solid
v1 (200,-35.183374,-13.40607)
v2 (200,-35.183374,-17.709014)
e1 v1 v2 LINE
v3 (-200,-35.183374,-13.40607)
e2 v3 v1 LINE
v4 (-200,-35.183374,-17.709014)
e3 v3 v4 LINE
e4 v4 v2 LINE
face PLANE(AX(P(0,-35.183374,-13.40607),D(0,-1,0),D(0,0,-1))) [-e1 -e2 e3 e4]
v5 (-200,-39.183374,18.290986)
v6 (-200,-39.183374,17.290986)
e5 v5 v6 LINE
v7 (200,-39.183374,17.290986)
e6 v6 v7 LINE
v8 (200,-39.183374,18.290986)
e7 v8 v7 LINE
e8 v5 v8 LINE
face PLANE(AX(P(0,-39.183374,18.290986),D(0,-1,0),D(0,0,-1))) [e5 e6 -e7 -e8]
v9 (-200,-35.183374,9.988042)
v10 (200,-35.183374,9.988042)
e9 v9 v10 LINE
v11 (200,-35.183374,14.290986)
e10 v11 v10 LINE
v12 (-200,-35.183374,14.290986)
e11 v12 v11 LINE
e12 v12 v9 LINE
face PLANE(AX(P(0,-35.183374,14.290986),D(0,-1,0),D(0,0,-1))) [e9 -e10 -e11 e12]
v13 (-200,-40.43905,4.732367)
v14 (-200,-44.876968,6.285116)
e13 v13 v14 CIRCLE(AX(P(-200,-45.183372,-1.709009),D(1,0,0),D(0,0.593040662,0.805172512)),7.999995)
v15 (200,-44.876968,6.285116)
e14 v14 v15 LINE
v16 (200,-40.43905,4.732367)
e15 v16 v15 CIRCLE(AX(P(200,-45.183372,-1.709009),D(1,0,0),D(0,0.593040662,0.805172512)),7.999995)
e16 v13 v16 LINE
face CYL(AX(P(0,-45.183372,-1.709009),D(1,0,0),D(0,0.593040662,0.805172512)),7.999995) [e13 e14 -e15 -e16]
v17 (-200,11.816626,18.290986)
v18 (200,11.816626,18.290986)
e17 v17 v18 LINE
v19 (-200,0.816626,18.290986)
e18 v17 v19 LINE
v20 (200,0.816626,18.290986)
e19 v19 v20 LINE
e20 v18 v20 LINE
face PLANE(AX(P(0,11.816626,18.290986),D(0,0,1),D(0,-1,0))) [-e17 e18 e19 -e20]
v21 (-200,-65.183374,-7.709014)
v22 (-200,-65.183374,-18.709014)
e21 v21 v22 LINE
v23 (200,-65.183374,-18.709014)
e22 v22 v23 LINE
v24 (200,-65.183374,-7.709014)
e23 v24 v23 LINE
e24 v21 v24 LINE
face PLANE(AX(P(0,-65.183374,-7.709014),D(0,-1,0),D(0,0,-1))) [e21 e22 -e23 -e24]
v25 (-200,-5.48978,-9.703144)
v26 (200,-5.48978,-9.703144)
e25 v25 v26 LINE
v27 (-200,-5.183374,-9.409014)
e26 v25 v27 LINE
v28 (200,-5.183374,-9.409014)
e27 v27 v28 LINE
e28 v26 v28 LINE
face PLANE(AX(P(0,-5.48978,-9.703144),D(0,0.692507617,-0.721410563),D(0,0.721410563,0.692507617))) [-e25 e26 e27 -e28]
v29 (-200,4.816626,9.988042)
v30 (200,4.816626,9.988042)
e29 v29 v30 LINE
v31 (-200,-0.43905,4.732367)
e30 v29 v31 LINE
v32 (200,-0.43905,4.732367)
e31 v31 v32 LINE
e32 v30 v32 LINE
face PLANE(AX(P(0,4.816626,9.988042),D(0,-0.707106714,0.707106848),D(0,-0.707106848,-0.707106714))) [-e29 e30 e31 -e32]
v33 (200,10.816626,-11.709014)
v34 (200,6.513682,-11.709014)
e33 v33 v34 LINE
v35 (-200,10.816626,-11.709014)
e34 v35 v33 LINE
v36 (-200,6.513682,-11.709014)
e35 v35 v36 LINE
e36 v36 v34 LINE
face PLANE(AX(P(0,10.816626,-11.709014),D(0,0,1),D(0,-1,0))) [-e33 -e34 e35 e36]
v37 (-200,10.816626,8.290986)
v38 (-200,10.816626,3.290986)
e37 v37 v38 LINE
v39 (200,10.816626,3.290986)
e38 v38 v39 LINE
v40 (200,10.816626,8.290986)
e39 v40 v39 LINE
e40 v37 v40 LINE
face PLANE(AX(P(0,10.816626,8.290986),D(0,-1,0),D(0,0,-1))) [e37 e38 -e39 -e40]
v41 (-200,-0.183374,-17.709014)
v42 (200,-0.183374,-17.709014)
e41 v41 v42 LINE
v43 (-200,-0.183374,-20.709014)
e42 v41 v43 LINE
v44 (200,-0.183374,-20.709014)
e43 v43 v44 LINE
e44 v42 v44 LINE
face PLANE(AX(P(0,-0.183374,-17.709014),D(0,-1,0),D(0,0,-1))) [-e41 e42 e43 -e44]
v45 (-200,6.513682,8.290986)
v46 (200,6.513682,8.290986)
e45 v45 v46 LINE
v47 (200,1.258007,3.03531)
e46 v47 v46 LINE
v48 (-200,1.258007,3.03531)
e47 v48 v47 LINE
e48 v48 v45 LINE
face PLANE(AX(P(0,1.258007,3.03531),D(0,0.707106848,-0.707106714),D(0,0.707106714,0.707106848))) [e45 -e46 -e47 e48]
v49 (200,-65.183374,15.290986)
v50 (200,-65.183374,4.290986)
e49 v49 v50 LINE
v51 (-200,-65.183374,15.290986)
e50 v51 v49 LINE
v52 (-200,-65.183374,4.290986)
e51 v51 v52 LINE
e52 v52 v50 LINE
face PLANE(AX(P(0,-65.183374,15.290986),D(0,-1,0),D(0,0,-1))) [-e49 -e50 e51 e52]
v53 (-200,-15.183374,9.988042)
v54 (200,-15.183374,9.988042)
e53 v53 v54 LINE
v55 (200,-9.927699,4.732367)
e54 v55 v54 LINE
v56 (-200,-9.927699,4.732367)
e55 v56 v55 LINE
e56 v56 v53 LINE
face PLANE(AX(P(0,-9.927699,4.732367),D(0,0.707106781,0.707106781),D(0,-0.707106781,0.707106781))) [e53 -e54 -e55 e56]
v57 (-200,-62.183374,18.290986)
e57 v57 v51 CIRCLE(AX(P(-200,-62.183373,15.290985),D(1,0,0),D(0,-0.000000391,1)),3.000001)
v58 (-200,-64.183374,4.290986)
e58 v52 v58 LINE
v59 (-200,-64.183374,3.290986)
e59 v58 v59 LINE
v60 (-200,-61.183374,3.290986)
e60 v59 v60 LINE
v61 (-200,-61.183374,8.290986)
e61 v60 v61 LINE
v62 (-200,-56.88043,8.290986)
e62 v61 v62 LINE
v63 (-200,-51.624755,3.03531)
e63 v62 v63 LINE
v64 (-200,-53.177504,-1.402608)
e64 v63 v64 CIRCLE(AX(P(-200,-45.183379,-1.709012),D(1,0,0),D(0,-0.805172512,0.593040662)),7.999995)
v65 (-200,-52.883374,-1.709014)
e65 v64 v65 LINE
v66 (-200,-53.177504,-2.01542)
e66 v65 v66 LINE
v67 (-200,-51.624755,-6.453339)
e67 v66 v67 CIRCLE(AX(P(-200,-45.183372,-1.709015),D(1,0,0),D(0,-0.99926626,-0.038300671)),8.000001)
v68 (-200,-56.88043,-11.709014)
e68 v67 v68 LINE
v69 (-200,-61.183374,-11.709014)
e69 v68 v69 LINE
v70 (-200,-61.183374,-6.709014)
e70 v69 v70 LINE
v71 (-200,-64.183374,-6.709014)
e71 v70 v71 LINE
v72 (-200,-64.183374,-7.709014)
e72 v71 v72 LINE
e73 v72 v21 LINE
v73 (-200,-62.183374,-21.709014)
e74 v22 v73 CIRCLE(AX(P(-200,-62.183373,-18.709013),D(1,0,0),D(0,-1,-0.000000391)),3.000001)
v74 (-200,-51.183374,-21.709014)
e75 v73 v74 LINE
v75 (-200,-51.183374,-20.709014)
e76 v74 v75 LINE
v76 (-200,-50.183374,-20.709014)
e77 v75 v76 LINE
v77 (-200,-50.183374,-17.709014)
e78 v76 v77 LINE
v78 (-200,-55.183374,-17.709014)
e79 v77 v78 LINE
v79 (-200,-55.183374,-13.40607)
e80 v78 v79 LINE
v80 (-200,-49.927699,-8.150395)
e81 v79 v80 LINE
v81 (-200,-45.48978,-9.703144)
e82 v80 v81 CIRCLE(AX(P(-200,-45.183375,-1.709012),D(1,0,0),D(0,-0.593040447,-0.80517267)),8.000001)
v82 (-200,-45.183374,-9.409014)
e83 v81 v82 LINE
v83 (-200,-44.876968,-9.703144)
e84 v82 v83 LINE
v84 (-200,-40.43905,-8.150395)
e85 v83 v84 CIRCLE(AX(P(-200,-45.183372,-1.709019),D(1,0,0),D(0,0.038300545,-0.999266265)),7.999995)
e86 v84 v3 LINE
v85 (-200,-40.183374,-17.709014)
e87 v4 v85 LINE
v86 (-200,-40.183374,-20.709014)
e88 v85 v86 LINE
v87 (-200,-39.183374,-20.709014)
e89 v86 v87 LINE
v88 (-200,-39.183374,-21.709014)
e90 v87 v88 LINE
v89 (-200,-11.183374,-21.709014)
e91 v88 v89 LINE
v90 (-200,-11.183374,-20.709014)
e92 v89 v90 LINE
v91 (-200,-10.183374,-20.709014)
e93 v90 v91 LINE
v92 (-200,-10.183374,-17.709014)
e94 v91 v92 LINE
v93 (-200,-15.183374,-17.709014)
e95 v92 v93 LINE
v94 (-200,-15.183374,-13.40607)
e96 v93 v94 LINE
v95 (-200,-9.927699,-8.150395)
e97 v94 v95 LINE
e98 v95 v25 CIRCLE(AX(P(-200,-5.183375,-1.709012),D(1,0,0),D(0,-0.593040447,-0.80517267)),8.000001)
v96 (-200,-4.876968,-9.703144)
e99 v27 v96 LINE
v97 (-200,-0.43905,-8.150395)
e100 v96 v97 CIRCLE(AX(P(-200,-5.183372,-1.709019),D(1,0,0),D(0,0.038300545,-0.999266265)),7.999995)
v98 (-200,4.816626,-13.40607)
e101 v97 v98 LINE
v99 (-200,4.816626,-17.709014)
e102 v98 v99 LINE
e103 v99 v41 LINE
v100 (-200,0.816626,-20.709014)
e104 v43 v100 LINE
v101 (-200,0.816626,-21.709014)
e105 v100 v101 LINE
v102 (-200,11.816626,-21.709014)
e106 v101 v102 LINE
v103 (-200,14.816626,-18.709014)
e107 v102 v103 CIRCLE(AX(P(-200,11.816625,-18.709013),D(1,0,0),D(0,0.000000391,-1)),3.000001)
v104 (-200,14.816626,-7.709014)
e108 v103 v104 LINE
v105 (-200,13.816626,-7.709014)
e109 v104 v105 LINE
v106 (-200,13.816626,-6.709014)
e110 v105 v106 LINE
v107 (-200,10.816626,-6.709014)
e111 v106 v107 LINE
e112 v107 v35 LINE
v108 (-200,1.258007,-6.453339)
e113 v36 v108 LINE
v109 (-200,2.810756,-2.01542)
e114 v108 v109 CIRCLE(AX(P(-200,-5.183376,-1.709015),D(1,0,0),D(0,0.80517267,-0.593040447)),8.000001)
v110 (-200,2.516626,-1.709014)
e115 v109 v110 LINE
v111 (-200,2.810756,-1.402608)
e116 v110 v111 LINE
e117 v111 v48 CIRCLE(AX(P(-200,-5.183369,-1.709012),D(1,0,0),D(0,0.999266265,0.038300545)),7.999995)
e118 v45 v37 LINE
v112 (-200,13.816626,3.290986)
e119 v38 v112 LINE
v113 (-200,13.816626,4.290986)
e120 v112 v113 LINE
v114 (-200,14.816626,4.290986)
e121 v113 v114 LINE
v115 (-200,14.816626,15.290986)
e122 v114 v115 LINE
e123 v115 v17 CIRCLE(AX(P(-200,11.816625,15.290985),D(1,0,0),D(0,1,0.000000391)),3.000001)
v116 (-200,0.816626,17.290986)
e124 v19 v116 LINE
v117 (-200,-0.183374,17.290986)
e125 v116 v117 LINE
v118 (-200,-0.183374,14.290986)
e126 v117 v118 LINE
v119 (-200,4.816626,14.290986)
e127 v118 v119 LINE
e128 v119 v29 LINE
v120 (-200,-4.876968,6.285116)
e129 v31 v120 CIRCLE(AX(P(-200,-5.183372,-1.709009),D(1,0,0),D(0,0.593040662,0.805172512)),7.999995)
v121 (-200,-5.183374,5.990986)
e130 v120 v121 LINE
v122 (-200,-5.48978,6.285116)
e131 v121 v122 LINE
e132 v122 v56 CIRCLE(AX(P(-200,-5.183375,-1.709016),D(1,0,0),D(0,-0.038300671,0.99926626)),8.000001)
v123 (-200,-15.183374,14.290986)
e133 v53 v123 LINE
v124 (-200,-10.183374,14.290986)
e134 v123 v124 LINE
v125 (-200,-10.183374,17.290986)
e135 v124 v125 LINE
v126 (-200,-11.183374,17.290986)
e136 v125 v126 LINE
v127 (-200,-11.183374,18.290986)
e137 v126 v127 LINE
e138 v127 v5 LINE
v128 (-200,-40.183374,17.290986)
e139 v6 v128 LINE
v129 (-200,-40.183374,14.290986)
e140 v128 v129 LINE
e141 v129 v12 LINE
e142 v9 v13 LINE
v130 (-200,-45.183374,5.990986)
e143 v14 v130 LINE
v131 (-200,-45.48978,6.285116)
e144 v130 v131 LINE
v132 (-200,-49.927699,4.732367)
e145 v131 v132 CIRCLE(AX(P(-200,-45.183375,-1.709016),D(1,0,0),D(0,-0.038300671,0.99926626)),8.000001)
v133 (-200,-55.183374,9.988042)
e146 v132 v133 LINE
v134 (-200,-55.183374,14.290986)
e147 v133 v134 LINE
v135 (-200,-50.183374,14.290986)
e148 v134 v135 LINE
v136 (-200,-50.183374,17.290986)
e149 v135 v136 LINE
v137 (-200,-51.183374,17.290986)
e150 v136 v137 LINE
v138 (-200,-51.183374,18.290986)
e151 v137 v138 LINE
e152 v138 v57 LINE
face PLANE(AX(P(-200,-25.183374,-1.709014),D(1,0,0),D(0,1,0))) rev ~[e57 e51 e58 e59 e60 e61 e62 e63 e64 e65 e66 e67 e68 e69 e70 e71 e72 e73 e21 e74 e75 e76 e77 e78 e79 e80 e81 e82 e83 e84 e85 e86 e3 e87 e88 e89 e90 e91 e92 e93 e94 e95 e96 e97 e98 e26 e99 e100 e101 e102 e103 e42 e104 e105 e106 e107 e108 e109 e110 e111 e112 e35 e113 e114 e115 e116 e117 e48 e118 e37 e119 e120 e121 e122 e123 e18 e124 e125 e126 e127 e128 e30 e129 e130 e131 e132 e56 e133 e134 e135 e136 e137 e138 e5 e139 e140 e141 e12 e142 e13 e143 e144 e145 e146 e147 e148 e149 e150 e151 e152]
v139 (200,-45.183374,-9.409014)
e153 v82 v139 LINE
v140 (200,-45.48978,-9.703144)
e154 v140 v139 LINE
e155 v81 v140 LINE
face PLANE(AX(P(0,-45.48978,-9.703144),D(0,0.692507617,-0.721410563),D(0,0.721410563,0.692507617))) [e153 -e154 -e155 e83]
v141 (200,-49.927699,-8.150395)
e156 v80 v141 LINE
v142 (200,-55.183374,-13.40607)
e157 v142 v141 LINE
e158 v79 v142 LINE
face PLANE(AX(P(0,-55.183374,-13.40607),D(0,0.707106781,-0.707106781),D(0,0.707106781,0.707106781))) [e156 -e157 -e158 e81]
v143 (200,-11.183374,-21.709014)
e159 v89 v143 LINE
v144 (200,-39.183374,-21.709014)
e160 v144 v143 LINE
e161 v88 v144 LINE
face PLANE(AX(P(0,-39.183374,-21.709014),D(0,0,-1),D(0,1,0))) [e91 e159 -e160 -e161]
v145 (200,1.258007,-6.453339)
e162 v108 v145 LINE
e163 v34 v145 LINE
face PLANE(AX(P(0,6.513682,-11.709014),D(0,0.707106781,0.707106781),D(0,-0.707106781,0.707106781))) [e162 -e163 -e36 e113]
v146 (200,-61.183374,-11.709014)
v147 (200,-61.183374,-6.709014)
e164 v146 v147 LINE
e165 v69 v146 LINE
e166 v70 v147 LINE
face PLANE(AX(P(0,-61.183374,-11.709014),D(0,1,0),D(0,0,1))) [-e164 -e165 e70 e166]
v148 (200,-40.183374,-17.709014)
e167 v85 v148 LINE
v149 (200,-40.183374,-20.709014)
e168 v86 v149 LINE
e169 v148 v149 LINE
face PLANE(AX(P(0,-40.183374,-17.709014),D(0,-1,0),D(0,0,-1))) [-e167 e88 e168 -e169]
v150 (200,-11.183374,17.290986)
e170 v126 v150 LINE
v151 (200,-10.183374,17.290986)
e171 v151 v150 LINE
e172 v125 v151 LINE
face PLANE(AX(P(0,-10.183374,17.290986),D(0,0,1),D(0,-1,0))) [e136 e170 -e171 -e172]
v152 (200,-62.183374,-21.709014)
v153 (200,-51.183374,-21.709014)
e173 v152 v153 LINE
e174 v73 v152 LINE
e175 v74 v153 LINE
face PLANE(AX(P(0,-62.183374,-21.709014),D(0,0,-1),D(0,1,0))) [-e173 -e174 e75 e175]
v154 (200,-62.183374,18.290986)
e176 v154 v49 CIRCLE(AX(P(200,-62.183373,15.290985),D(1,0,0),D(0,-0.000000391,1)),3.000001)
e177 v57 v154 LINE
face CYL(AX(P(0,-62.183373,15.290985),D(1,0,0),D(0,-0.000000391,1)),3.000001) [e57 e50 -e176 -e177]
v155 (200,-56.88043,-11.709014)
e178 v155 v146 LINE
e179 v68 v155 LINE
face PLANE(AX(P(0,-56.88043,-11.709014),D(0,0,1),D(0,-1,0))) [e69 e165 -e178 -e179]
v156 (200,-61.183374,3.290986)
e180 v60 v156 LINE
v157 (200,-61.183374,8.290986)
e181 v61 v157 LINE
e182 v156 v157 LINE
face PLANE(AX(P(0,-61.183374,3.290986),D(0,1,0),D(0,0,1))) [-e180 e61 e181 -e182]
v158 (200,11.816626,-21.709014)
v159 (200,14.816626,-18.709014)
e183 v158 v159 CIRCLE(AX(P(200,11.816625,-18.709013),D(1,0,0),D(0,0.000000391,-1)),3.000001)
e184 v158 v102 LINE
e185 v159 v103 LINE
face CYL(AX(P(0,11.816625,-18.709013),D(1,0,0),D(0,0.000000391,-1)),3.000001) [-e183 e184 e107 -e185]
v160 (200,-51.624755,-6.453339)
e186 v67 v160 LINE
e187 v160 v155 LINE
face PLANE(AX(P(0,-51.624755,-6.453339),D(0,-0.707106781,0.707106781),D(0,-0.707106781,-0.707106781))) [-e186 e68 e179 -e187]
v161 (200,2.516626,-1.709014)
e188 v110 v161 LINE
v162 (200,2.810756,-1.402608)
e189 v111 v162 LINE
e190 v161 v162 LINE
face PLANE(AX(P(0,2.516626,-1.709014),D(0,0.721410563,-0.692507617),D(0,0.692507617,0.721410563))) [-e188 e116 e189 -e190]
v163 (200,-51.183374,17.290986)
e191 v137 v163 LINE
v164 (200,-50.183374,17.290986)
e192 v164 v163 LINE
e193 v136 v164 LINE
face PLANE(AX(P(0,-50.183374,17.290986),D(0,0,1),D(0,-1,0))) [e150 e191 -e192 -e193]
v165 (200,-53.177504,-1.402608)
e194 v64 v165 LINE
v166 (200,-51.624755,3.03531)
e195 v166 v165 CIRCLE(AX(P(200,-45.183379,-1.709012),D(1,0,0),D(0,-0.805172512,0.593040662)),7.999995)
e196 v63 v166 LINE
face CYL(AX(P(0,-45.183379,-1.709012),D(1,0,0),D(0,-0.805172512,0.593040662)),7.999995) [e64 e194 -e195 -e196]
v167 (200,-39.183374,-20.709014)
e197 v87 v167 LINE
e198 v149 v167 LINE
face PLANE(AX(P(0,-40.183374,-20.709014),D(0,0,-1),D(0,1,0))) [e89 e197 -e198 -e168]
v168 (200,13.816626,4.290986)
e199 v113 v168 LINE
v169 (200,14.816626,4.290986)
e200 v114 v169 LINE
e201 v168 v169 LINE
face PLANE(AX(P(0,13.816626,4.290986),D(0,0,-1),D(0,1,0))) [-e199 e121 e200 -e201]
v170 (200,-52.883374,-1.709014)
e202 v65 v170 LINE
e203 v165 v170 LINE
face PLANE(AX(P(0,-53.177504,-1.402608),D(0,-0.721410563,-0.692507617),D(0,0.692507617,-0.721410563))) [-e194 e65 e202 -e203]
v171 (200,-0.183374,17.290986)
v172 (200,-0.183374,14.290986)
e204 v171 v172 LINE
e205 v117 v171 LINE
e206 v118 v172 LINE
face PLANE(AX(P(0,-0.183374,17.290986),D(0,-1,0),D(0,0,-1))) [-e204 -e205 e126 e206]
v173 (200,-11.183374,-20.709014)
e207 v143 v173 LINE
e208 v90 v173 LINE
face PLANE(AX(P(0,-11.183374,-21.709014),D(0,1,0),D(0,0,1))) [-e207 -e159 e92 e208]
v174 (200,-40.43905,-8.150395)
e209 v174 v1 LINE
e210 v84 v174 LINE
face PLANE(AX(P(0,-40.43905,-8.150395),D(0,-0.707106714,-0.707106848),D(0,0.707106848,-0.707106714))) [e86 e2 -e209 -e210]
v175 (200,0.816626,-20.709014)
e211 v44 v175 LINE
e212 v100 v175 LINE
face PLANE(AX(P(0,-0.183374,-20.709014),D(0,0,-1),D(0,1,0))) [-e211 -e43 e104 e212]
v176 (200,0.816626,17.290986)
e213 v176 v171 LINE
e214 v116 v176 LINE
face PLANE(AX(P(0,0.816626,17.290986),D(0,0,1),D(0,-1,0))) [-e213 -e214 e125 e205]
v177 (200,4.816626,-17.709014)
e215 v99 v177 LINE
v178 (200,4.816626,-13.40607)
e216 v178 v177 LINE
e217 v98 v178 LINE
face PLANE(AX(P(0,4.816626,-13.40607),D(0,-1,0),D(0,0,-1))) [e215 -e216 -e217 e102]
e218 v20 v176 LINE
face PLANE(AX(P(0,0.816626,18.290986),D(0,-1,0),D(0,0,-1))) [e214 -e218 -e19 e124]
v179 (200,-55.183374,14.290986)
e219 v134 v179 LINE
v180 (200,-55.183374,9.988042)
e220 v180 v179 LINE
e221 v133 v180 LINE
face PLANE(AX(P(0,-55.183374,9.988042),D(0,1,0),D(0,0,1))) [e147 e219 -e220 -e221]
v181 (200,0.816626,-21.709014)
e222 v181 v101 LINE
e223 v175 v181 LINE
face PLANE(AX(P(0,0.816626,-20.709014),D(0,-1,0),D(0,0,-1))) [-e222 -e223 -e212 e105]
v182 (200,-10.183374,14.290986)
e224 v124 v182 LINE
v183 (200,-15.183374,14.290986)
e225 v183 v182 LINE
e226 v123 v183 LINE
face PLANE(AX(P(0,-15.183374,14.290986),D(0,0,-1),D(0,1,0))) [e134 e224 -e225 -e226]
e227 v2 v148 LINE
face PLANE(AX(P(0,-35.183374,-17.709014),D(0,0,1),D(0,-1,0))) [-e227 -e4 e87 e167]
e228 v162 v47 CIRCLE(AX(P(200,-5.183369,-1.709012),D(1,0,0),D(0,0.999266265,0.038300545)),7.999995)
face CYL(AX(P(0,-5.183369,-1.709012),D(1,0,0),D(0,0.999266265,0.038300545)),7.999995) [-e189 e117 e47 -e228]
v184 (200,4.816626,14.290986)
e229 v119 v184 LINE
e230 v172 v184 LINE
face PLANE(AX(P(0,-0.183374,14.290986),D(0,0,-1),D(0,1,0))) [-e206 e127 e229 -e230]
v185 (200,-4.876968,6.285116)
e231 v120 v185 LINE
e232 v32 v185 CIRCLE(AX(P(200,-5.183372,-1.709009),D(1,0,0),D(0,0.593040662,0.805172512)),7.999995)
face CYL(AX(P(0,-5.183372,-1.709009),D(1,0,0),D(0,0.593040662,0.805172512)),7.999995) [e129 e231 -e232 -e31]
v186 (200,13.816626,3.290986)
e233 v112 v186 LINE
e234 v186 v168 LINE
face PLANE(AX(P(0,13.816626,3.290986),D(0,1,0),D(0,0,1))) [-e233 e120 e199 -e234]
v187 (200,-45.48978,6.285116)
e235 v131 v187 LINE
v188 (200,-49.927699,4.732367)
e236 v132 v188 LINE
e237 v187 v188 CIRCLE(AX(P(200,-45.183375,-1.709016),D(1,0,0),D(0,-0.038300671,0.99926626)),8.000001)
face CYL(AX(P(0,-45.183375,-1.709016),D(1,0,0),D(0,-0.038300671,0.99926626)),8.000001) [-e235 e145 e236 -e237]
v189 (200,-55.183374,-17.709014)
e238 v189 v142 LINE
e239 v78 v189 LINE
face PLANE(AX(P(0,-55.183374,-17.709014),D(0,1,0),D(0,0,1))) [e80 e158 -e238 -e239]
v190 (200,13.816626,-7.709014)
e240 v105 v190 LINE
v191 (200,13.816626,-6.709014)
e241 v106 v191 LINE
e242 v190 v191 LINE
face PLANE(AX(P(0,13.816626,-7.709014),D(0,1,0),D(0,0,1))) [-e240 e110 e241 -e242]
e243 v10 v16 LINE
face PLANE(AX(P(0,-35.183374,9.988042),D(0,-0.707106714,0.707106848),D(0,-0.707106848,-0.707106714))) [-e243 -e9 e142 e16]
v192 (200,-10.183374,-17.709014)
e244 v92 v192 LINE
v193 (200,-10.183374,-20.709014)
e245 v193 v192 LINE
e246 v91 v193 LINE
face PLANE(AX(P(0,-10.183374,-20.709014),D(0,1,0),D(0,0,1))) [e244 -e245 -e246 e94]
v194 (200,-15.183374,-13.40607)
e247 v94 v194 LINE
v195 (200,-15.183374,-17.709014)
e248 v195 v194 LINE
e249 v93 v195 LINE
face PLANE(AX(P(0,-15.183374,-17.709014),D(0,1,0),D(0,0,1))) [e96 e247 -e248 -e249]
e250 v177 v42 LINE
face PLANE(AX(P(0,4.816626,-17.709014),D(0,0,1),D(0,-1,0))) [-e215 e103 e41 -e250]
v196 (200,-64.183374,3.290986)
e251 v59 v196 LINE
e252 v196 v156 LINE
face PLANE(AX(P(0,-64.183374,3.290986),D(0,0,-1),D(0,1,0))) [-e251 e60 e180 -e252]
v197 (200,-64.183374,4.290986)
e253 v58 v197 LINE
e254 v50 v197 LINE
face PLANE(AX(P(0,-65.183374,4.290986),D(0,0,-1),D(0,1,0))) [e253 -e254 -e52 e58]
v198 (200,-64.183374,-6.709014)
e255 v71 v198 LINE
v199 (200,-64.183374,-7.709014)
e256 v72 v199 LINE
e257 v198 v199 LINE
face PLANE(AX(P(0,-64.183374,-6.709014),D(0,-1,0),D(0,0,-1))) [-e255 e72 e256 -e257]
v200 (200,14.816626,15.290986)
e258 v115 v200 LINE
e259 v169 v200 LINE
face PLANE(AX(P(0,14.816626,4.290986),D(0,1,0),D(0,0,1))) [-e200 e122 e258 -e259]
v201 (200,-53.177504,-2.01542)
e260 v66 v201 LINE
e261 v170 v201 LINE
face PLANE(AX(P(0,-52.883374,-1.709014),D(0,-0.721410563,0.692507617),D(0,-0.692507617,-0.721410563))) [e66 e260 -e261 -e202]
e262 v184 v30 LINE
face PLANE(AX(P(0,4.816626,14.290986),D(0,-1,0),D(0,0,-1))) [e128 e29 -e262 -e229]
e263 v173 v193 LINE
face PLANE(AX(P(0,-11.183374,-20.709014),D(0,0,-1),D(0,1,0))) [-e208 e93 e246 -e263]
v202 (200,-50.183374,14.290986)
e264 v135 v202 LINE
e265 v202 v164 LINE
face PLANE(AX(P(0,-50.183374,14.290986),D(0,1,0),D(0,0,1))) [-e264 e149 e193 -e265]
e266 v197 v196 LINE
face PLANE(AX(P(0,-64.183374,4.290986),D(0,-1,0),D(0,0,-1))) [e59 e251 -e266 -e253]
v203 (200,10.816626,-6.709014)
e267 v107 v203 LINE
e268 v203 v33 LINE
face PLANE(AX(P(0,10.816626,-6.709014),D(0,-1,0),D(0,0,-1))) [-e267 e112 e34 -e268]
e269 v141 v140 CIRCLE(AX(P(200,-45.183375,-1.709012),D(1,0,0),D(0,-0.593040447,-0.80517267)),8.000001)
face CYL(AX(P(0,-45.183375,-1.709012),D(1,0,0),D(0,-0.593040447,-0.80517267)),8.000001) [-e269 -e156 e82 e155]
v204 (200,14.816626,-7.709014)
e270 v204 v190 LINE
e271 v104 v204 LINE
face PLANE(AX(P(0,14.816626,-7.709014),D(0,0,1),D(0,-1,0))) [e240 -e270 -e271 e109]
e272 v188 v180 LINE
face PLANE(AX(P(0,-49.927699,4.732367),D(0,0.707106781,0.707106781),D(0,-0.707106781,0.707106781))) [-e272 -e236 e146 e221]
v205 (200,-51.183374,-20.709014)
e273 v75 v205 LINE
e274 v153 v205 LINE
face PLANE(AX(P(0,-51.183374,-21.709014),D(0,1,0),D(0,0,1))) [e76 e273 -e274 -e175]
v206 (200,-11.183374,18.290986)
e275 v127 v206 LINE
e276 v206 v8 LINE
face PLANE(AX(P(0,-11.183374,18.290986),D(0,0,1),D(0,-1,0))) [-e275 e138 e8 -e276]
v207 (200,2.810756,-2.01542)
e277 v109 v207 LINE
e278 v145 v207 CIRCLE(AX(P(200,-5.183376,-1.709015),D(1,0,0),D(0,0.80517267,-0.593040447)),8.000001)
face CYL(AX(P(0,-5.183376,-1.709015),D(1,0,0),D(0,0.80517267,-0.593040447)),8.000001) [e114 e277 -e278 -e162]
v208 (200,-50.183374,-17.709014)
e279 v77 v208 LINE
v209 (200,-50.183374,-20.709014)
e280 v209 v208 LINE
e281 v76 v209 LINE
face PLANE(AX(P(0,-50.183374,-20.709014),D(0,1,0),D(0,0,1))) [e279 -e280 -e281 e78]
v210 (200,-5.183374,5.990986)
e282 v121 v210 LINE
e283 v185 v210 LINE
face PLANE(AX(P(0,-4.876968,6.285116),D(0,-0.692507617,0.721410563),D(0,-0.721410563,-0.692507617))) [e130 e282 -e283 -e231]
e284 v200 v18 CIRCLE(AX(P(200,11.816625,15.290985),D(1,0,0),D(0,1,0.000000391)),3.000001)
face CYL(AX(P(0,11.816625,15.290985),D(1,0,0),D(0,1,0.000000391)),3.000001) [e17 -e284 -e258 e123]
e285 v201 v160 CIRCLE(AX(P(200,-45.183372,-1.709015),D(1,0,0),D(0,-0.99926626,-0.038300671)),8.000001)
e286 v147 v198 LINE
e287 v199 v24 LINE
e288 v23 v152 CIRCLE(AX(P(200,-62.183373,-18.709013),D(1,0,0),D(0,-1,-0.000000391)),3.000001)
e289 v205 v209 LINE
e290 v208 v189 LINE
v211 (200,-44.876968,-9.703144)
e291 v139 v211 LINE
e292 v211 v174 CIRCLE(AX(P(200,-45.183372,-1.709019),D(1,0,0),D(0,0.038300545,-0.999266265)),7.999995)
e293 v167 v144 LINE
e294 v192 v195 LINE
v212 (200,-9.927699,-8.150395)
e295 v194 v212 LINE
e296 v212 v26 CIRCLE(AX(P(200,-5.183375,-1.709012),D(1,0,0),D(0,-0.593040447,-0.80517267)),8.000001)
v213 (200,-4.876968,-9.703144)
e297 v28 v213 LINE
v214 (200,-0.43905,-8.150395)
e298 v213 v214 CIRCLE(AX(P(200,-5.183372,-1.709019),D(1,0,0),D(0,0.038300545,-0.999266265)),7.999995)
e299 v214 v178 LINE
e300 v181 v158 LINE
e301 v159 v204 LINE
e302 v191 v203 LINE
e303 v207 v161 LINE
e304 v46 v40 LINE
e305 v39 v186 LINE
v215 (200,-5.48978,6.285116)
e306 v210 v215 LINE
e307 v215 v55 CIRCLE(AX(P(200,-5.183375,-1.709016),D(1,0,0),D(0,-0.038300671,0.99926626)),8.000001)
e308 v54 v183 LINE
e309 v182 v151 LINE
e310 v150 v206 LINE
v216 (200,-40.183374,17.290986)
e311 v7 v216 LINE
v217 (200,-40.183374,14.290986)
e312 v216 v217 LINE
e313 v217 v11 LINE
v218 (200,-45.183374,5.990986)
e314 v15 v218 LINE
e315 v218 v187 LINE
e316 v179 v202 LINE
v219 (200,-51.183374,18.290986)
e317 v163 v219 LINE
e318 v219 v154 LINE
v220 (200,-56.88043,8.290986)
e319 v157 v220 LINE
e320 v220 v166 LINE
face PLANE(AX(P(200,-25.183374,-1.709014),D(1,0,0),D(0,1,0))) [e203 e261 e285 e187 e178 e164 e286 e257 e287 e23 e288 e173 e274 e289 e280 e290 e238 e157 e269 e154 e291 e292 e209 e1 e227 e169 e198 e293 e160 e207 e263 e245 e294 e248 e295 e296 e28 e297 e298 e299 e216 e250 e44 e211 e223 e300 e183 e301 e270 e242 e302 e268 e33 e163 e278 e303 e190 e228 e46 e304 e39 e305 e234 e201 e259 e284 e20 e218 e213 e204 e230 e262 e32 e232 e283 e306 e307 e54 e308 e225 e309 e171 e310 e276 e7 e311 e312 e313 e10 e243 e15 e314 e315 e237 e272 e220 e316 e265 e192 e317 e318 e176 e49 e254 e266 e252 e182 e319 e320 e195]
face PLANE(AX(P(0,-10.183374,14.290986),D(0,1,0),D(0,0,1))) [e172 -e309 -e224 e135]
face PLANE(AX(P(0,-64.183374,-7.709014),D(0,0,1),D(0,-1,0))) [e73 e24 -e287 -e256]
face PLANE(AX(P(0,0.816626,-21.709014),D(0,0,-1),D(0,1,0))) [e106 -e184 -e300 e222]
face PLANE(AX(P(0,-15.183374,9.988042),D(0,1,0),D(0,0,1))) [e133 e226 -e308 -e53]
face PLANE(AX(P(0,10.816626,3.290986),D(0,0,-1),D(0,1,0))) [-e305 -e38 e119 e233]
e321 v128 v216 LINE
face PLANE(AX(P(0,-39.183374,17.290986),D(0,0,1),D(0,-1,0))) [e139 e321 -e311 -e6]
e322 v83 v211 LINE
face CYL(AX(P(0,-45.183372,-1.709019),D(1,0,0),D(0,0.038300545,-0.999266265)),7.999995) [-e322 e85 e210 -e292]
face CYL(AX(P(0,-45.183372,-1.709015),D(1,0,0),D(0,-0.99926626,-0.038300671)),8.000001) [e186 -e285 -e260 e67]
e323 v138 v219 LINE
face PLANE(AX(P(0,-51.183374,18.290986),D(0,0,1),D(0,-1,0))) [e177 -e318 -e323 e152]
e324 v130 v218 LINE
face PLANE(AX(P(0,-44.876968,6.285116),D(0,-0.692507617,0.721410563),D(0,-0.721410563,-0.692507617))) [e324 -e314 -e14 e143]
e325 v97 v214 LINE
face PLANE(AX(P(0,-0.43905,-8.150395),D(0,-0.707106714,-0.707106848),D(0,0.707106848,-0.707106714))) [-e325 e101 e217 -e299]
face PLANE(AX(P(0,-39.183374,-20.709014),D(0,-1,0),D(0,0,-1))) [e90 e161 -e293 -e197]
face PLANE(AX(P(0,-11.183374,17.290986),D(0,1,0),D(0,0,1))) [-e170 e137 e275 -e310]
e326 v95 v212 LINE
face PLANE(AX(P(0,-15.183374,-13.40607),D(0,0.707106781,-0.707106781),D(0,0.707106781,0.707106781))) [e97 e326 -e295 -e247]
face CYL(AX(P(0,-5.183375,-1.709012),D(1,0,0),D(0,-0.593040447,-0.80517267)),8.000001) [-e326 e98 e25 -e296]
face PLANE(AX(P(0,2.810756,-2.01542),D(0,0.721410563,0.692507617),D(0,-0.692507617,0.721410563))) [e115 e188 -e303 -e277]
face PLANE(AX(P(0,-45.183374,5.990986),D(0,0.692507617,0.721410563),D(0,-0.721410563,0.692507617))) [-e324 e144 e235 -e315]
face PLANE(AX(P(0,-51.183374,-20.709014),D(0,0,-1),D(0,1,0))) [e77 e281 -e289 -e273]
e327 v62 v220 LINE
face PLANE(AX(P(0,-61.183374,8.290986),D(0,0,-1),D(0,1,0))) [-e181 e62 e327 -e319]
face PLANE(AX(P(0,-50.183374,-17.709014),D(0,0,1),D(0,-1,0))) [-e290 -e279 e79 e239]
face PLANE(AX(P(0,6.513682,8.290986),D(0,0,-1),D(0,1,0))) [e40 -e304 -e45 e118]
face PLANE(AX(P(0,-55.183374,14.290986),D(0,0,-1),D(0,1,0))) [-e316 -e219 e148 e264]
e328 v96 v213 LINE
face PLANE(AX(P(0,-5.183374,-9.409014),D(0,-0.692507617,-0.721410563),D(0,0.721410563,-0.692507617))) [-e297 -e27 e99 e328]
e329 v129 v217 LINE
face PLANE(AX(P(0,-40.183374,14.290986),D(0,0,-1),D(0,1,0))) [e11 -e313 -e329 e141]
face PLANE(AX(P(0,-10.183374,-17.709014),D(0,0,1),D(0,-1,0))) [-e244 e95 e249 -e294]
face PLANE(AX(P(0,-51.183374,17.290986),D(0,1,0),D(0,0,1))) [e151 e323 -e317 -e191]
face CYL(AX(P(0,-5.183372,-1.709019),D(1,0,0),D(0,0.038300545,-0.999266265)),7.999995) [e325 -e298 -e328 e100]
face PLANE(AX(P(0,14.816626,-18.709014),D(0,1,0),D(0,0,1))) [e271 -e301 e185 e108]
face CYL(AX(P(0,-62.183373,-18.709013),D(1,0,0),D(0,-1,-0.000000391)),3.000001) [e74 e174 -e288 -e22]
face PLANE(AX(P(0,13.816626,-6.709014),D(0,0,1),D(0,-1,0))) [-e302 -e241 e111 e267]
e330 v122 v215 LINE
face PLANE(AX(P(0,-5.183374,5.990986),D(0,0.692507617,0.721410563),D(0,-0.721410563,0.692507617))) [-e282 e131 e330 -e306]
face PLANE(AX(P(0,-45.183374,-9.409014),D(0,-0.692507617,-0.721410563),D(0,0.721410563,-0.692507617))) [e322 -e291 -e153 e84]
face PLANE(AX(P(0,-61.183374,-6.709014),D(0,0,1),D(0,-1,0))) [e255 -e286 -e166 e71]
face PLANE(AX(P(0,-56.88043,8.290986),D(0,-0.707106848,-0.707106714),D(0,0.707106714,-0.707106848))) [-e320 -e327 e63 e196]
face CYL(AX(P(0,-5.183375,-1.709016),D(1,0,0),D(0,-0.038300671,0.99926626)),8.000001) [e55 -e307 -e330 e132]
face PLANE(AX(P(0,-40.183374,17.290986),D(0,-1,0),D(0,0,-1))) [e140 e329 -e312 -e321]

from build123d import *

# Parameters (mm, degrees)
F1_DEPTH = 200


with BuildPart() as f1:
    # F0 (on Right) → F1 (new body, symmetric)
    with BuildSketch(Plane.YZ):
        with BuildLine():
            Line((14.816626, -18.709014), (14.816626, -7.709014))
            Line((14.816626, -7.709014), (13.816626, -7.709014))
            Line((13.816626, -7.709014), (13.816626, -6.709014))
            Line((13.816626, -6.709014), (10.816626, -6.709014))
            Line((10.816626, -6.709014), (10.816626, -11.709014))
            Line((10.816626, -11.709014), (6.513682, -11.709014))
            Line((6.513682, -11.709014), (1.258007, -6.453339))
            ThreePointArc((1.258007, -6.453339), (2.36777, -4.351026), (2.810756, -2.01542))
            Line((2.810756, -2.01542), (2.516626, -1.709014))
            Line((2.516626, -1.709014), (2.810756, -1.402608))
            ThreePointArc((2.810756, -1.402608), (2.36777, 0.932998), (1.258007, 3.03531))
            Line((1.258007, 3.03531), (6.513682, 8.290986))
            Line((6.513682, 8.290986), (10.816626, 8.290986))
            Line((10.816626, 8.290986), (10.816626, 3.290986))
            Line((10.816626, 3.290986), (13.816626, 3.290986))
            Line((13.816626, 3.290986), (13.816626, 4.290986))
            Line((13.816626, 4.290986), (14.816626, 4.290986))
            Line((14.816626, 4.290986), (14.816626, 15.290986))
            ThreePointArc((14.816626, 15.290986), (13.937946, 17.412306), (11.816626, 18.290986))
            Line((11.816626, 18.290986), (0.816626, 18.290986))
            Line((0.816626, 18.290986), (0.816626, 17.290986))
            Line((0.816626, 17.290986), (-0.183374, 17.290986))
            Line((-0.183374, 17.290986), (-0.183374, 14.290986))
            Line((-0.183374, 14.290986), (4.816626, 14.290986))
            Line((4.816626, 14.290986), (4.816626, 9.988042))
            Line((4.816626, 9.988042), (-0.43905, 4.732367))
            ThreePointArc((-0.43905, 4.732367), (-2.541362, 5.84213), (-4.876968, 6.285116))
            Line((-4.876968, 6.285116), (-5.183374, 5.990986))
            Line((-5.183374, 5.990986), (-5.48978, 6.285116))
            ThreePointArc((-5.48978, 6.285116), (-7.825386, 5.84213), (-9.927699, 4.732367))
            Line((-9.927699, 4.732367), (-15.183374, 9.988042))
            Line((-15.183374, 9.988042), (-15.183374, 14.290986))
            Line((-15.183374, 14.290986), (-10.183374, 14.290986))
            Line((-10.183374, 14.290986), (-10.183374, 17.290986))
            Line((-10.183374, 17.290986), (-11.183374, 17.290986))
            Line((-11.183374, 17.290986), (-11.183374, 18.290986))
            Line((-11.183374, 18.290986), (-39.183374, 18.290986))
            Line((-39.183374, 18.290986), (-39.183374, 17.290986))
            Line((-39.183374, 17.290986), (-40.183374, 17.290986))
            Line((-40.183374, 17.290986), (-40.183374, 14.290986))
            Line((-40.183374, 14.290986), (-35.183374, 14.290986))
            Line((-35.183374, 14.290986), (-35.183374, 9.988042))
            Line((-35.183374, 9.988042), (-40.43905, 4.732367))
            ThreePointArc((-40.43905, 4.732367), (-42.541362, 5.84213), (-44.876968, 6.285116))
            Line((-44.876968, 6.285116), (-45.183374, 5.990986))
            Line((-45.183374, 5.990986), (-45.48978, 6.285116))
            ThreePointArc((-45.48978, 6.285116), (-47.825386, 5.84213), (-49.927699, 4.732367))
            Line((-49.927699, 4.732367), (-55.183374, 9.988042))
            Line((-55.183374, 9.988042), (-55.183374, 14.290986))
            Line((-55.183374, 14.290986), (-50.183374, 14.290986))
            Line((-50.183374, 14.290986), (-50.183374, 17.290986))
            Line((-50.183374, 17.290986), (-51.183374, 17.290986))
            Line((-51.183374, 17.290986), (-51.183374, 18.290986))
            Line((-51.183374, 18.290986), (-62.183374, 18.290986))
            ThreePointArc((-62.183374, 18.290986), (-64.304694, 17.412306), (-65.183374, 15.290986))
            Line((-65.183374, 15.290986), (-65.183374, 4.290986))
            Line((-65.183374, 4.290986), (-64.183374, 4.290986))
            Line((-64.183374, 4.290986), (-64.183374, 3.290986))
            Line((-64.183374, 3.290986), (-61.183374, 3.290986))
            Line((-61.183374, 3.290986), (-61.183374, 8.290986))
            Line((-61.183374, 8.290986), (-56.88043, 8.290986))
            Line((-56.88043, 8.290986), (-51.624755, 3.03531))
            ThreePointArc((-51.624755, 3.03531), (-52.734518, 0.932998), (-53.177504, -1.402608))
            Line((-53.177504, -1.402608), (-52.883374, -1.709014))
            Line((-52.883374, -1.709014), (-53.177504, -2.01542))
            ThreePointArc((-53.177504, -2.01542), (-52.734518, -4.351026), (-51.624755, -6.453339))
            Line((-51.624755, -6.453339), (-56.88043, -11.709014))
            Line((-56.88043, -11.709014), (-61.183374, -11.709014))
            Line((-61.183374, -11.709014), (-61.183374, -6.709014))
            Line((-61.183374, -6.709014), (-64.183374, -6.709014))
            Line((-64.183374, -6.709014), (-64.183374, -7.709014))
            Line((-64.183374, -7.709014), (-65.183374, -7.709014))
            Line((-65.183374, -7.709014), (-65.183374, -18.709014))
            ThreePointArc((-65.183374, -18.709014), (-64.304694, -20.830334), (-62.183374, -21.709014))
            Line((-62.183374, -21.709014), (-51.183374, -21.709014))
            Line((-51.183374, -21.709014), (-51.183374, -20.709014))
            Line((-51.183374, -20.709014), (-50.183374, -20.709014))
            Line((-50.183374, -20.709014), (-50.183374, -17.709014))
            Line((-50.183374, -17.709014), (-55.183374, -17.709014))
            Line((-55.183374, -17.709014), (-55.183374, -13.40607))
            Line((-55.183374, -13.40607), (-49.927699, -8.150395))
            ThreePointArc((-49.927699, -8.150395), (-47.825386, -9.260158), (-45.48978, -9.703144))
            Line((-45.48978, -9.703144), (-45.183374, -9.409014))
            Line((-45.183374, -9.409014), (-44.876968, -9.703144))
            ThreePointArc((-44.876968, -9.703144), (-42.541362, -9.260158), (-40.43905, -8.150395))
            Line((-40.43905, -8.150395), (-35.183374, -13.40607))
            Line((-35.183374, -13.40607), (-35.183374, -17.709014))
            Line((-35.183374, -17.709014), (-40.183374, -17.709014))
            Line((-40.183374, -17.709014), (-40.183374, -20.709014))
            Line((-40.183374, -20.709014), (-39.183374, -20.709014))
            Line((-39.183374, -20.709014), (-39.183374, -21.709014))
            Line((-39.183374, -21.709014), (-11.183374, -21.709014))
            Line((-11.183374, -21.709014), (-11.183374, -20.709014))
            Line((-11.183374, -20.709014), (-10.183374, -20.709014))
            Line((-10.183374, -20.709014), (-10.183374, -17.709014))
            Line((-10.183374, -17.709014), (-15.183374, -17.709014))
            Line((-15.183374, -17.709014), (-15.183374, -13.40607))
            Line((-15.183374, -13.40607), (-9.927699, -8.150395))
            ThreePointArc((-9.927699, -8.150395), (-7.825386, -9.260158), (-5.48978, -9.703144))
            Line((-5.48978, -9.703144), (-5.183374, -9.409014))
            Line((-5.183374, -9.409014), (-4.876968, -9.703144))
            ThreePointArc((-4.876968, -9.703144), (-2.541362, -9.260158), (-0.43905, -8.150395))
            Line((-0.43905, -8.150395), (4.816626, -13.40607))
            Line((4.816626, -13.40607), (4.816626, -17.709014))
            Line((4.816626, -17.709014), (-0.183374, -17.709014))
            Line((-0.183374, -17.709014), (-0.183374, -20.709014))
            Line((-0.183374, -20.709014), (0.816626, -20.709014))
            Line((0.816626, -20.709014), (0.816626, -21.709014))
            Line((0.816626, -21.709014), (11.816626, -21.709014))
            ThreePointArc((11.816626, -21.709014), (13.937946, -20.830334), (14.816626, -18.709014))
        make_face()
    extrude(amount=F1_DEPTH, both=True)


solid = f1.part
